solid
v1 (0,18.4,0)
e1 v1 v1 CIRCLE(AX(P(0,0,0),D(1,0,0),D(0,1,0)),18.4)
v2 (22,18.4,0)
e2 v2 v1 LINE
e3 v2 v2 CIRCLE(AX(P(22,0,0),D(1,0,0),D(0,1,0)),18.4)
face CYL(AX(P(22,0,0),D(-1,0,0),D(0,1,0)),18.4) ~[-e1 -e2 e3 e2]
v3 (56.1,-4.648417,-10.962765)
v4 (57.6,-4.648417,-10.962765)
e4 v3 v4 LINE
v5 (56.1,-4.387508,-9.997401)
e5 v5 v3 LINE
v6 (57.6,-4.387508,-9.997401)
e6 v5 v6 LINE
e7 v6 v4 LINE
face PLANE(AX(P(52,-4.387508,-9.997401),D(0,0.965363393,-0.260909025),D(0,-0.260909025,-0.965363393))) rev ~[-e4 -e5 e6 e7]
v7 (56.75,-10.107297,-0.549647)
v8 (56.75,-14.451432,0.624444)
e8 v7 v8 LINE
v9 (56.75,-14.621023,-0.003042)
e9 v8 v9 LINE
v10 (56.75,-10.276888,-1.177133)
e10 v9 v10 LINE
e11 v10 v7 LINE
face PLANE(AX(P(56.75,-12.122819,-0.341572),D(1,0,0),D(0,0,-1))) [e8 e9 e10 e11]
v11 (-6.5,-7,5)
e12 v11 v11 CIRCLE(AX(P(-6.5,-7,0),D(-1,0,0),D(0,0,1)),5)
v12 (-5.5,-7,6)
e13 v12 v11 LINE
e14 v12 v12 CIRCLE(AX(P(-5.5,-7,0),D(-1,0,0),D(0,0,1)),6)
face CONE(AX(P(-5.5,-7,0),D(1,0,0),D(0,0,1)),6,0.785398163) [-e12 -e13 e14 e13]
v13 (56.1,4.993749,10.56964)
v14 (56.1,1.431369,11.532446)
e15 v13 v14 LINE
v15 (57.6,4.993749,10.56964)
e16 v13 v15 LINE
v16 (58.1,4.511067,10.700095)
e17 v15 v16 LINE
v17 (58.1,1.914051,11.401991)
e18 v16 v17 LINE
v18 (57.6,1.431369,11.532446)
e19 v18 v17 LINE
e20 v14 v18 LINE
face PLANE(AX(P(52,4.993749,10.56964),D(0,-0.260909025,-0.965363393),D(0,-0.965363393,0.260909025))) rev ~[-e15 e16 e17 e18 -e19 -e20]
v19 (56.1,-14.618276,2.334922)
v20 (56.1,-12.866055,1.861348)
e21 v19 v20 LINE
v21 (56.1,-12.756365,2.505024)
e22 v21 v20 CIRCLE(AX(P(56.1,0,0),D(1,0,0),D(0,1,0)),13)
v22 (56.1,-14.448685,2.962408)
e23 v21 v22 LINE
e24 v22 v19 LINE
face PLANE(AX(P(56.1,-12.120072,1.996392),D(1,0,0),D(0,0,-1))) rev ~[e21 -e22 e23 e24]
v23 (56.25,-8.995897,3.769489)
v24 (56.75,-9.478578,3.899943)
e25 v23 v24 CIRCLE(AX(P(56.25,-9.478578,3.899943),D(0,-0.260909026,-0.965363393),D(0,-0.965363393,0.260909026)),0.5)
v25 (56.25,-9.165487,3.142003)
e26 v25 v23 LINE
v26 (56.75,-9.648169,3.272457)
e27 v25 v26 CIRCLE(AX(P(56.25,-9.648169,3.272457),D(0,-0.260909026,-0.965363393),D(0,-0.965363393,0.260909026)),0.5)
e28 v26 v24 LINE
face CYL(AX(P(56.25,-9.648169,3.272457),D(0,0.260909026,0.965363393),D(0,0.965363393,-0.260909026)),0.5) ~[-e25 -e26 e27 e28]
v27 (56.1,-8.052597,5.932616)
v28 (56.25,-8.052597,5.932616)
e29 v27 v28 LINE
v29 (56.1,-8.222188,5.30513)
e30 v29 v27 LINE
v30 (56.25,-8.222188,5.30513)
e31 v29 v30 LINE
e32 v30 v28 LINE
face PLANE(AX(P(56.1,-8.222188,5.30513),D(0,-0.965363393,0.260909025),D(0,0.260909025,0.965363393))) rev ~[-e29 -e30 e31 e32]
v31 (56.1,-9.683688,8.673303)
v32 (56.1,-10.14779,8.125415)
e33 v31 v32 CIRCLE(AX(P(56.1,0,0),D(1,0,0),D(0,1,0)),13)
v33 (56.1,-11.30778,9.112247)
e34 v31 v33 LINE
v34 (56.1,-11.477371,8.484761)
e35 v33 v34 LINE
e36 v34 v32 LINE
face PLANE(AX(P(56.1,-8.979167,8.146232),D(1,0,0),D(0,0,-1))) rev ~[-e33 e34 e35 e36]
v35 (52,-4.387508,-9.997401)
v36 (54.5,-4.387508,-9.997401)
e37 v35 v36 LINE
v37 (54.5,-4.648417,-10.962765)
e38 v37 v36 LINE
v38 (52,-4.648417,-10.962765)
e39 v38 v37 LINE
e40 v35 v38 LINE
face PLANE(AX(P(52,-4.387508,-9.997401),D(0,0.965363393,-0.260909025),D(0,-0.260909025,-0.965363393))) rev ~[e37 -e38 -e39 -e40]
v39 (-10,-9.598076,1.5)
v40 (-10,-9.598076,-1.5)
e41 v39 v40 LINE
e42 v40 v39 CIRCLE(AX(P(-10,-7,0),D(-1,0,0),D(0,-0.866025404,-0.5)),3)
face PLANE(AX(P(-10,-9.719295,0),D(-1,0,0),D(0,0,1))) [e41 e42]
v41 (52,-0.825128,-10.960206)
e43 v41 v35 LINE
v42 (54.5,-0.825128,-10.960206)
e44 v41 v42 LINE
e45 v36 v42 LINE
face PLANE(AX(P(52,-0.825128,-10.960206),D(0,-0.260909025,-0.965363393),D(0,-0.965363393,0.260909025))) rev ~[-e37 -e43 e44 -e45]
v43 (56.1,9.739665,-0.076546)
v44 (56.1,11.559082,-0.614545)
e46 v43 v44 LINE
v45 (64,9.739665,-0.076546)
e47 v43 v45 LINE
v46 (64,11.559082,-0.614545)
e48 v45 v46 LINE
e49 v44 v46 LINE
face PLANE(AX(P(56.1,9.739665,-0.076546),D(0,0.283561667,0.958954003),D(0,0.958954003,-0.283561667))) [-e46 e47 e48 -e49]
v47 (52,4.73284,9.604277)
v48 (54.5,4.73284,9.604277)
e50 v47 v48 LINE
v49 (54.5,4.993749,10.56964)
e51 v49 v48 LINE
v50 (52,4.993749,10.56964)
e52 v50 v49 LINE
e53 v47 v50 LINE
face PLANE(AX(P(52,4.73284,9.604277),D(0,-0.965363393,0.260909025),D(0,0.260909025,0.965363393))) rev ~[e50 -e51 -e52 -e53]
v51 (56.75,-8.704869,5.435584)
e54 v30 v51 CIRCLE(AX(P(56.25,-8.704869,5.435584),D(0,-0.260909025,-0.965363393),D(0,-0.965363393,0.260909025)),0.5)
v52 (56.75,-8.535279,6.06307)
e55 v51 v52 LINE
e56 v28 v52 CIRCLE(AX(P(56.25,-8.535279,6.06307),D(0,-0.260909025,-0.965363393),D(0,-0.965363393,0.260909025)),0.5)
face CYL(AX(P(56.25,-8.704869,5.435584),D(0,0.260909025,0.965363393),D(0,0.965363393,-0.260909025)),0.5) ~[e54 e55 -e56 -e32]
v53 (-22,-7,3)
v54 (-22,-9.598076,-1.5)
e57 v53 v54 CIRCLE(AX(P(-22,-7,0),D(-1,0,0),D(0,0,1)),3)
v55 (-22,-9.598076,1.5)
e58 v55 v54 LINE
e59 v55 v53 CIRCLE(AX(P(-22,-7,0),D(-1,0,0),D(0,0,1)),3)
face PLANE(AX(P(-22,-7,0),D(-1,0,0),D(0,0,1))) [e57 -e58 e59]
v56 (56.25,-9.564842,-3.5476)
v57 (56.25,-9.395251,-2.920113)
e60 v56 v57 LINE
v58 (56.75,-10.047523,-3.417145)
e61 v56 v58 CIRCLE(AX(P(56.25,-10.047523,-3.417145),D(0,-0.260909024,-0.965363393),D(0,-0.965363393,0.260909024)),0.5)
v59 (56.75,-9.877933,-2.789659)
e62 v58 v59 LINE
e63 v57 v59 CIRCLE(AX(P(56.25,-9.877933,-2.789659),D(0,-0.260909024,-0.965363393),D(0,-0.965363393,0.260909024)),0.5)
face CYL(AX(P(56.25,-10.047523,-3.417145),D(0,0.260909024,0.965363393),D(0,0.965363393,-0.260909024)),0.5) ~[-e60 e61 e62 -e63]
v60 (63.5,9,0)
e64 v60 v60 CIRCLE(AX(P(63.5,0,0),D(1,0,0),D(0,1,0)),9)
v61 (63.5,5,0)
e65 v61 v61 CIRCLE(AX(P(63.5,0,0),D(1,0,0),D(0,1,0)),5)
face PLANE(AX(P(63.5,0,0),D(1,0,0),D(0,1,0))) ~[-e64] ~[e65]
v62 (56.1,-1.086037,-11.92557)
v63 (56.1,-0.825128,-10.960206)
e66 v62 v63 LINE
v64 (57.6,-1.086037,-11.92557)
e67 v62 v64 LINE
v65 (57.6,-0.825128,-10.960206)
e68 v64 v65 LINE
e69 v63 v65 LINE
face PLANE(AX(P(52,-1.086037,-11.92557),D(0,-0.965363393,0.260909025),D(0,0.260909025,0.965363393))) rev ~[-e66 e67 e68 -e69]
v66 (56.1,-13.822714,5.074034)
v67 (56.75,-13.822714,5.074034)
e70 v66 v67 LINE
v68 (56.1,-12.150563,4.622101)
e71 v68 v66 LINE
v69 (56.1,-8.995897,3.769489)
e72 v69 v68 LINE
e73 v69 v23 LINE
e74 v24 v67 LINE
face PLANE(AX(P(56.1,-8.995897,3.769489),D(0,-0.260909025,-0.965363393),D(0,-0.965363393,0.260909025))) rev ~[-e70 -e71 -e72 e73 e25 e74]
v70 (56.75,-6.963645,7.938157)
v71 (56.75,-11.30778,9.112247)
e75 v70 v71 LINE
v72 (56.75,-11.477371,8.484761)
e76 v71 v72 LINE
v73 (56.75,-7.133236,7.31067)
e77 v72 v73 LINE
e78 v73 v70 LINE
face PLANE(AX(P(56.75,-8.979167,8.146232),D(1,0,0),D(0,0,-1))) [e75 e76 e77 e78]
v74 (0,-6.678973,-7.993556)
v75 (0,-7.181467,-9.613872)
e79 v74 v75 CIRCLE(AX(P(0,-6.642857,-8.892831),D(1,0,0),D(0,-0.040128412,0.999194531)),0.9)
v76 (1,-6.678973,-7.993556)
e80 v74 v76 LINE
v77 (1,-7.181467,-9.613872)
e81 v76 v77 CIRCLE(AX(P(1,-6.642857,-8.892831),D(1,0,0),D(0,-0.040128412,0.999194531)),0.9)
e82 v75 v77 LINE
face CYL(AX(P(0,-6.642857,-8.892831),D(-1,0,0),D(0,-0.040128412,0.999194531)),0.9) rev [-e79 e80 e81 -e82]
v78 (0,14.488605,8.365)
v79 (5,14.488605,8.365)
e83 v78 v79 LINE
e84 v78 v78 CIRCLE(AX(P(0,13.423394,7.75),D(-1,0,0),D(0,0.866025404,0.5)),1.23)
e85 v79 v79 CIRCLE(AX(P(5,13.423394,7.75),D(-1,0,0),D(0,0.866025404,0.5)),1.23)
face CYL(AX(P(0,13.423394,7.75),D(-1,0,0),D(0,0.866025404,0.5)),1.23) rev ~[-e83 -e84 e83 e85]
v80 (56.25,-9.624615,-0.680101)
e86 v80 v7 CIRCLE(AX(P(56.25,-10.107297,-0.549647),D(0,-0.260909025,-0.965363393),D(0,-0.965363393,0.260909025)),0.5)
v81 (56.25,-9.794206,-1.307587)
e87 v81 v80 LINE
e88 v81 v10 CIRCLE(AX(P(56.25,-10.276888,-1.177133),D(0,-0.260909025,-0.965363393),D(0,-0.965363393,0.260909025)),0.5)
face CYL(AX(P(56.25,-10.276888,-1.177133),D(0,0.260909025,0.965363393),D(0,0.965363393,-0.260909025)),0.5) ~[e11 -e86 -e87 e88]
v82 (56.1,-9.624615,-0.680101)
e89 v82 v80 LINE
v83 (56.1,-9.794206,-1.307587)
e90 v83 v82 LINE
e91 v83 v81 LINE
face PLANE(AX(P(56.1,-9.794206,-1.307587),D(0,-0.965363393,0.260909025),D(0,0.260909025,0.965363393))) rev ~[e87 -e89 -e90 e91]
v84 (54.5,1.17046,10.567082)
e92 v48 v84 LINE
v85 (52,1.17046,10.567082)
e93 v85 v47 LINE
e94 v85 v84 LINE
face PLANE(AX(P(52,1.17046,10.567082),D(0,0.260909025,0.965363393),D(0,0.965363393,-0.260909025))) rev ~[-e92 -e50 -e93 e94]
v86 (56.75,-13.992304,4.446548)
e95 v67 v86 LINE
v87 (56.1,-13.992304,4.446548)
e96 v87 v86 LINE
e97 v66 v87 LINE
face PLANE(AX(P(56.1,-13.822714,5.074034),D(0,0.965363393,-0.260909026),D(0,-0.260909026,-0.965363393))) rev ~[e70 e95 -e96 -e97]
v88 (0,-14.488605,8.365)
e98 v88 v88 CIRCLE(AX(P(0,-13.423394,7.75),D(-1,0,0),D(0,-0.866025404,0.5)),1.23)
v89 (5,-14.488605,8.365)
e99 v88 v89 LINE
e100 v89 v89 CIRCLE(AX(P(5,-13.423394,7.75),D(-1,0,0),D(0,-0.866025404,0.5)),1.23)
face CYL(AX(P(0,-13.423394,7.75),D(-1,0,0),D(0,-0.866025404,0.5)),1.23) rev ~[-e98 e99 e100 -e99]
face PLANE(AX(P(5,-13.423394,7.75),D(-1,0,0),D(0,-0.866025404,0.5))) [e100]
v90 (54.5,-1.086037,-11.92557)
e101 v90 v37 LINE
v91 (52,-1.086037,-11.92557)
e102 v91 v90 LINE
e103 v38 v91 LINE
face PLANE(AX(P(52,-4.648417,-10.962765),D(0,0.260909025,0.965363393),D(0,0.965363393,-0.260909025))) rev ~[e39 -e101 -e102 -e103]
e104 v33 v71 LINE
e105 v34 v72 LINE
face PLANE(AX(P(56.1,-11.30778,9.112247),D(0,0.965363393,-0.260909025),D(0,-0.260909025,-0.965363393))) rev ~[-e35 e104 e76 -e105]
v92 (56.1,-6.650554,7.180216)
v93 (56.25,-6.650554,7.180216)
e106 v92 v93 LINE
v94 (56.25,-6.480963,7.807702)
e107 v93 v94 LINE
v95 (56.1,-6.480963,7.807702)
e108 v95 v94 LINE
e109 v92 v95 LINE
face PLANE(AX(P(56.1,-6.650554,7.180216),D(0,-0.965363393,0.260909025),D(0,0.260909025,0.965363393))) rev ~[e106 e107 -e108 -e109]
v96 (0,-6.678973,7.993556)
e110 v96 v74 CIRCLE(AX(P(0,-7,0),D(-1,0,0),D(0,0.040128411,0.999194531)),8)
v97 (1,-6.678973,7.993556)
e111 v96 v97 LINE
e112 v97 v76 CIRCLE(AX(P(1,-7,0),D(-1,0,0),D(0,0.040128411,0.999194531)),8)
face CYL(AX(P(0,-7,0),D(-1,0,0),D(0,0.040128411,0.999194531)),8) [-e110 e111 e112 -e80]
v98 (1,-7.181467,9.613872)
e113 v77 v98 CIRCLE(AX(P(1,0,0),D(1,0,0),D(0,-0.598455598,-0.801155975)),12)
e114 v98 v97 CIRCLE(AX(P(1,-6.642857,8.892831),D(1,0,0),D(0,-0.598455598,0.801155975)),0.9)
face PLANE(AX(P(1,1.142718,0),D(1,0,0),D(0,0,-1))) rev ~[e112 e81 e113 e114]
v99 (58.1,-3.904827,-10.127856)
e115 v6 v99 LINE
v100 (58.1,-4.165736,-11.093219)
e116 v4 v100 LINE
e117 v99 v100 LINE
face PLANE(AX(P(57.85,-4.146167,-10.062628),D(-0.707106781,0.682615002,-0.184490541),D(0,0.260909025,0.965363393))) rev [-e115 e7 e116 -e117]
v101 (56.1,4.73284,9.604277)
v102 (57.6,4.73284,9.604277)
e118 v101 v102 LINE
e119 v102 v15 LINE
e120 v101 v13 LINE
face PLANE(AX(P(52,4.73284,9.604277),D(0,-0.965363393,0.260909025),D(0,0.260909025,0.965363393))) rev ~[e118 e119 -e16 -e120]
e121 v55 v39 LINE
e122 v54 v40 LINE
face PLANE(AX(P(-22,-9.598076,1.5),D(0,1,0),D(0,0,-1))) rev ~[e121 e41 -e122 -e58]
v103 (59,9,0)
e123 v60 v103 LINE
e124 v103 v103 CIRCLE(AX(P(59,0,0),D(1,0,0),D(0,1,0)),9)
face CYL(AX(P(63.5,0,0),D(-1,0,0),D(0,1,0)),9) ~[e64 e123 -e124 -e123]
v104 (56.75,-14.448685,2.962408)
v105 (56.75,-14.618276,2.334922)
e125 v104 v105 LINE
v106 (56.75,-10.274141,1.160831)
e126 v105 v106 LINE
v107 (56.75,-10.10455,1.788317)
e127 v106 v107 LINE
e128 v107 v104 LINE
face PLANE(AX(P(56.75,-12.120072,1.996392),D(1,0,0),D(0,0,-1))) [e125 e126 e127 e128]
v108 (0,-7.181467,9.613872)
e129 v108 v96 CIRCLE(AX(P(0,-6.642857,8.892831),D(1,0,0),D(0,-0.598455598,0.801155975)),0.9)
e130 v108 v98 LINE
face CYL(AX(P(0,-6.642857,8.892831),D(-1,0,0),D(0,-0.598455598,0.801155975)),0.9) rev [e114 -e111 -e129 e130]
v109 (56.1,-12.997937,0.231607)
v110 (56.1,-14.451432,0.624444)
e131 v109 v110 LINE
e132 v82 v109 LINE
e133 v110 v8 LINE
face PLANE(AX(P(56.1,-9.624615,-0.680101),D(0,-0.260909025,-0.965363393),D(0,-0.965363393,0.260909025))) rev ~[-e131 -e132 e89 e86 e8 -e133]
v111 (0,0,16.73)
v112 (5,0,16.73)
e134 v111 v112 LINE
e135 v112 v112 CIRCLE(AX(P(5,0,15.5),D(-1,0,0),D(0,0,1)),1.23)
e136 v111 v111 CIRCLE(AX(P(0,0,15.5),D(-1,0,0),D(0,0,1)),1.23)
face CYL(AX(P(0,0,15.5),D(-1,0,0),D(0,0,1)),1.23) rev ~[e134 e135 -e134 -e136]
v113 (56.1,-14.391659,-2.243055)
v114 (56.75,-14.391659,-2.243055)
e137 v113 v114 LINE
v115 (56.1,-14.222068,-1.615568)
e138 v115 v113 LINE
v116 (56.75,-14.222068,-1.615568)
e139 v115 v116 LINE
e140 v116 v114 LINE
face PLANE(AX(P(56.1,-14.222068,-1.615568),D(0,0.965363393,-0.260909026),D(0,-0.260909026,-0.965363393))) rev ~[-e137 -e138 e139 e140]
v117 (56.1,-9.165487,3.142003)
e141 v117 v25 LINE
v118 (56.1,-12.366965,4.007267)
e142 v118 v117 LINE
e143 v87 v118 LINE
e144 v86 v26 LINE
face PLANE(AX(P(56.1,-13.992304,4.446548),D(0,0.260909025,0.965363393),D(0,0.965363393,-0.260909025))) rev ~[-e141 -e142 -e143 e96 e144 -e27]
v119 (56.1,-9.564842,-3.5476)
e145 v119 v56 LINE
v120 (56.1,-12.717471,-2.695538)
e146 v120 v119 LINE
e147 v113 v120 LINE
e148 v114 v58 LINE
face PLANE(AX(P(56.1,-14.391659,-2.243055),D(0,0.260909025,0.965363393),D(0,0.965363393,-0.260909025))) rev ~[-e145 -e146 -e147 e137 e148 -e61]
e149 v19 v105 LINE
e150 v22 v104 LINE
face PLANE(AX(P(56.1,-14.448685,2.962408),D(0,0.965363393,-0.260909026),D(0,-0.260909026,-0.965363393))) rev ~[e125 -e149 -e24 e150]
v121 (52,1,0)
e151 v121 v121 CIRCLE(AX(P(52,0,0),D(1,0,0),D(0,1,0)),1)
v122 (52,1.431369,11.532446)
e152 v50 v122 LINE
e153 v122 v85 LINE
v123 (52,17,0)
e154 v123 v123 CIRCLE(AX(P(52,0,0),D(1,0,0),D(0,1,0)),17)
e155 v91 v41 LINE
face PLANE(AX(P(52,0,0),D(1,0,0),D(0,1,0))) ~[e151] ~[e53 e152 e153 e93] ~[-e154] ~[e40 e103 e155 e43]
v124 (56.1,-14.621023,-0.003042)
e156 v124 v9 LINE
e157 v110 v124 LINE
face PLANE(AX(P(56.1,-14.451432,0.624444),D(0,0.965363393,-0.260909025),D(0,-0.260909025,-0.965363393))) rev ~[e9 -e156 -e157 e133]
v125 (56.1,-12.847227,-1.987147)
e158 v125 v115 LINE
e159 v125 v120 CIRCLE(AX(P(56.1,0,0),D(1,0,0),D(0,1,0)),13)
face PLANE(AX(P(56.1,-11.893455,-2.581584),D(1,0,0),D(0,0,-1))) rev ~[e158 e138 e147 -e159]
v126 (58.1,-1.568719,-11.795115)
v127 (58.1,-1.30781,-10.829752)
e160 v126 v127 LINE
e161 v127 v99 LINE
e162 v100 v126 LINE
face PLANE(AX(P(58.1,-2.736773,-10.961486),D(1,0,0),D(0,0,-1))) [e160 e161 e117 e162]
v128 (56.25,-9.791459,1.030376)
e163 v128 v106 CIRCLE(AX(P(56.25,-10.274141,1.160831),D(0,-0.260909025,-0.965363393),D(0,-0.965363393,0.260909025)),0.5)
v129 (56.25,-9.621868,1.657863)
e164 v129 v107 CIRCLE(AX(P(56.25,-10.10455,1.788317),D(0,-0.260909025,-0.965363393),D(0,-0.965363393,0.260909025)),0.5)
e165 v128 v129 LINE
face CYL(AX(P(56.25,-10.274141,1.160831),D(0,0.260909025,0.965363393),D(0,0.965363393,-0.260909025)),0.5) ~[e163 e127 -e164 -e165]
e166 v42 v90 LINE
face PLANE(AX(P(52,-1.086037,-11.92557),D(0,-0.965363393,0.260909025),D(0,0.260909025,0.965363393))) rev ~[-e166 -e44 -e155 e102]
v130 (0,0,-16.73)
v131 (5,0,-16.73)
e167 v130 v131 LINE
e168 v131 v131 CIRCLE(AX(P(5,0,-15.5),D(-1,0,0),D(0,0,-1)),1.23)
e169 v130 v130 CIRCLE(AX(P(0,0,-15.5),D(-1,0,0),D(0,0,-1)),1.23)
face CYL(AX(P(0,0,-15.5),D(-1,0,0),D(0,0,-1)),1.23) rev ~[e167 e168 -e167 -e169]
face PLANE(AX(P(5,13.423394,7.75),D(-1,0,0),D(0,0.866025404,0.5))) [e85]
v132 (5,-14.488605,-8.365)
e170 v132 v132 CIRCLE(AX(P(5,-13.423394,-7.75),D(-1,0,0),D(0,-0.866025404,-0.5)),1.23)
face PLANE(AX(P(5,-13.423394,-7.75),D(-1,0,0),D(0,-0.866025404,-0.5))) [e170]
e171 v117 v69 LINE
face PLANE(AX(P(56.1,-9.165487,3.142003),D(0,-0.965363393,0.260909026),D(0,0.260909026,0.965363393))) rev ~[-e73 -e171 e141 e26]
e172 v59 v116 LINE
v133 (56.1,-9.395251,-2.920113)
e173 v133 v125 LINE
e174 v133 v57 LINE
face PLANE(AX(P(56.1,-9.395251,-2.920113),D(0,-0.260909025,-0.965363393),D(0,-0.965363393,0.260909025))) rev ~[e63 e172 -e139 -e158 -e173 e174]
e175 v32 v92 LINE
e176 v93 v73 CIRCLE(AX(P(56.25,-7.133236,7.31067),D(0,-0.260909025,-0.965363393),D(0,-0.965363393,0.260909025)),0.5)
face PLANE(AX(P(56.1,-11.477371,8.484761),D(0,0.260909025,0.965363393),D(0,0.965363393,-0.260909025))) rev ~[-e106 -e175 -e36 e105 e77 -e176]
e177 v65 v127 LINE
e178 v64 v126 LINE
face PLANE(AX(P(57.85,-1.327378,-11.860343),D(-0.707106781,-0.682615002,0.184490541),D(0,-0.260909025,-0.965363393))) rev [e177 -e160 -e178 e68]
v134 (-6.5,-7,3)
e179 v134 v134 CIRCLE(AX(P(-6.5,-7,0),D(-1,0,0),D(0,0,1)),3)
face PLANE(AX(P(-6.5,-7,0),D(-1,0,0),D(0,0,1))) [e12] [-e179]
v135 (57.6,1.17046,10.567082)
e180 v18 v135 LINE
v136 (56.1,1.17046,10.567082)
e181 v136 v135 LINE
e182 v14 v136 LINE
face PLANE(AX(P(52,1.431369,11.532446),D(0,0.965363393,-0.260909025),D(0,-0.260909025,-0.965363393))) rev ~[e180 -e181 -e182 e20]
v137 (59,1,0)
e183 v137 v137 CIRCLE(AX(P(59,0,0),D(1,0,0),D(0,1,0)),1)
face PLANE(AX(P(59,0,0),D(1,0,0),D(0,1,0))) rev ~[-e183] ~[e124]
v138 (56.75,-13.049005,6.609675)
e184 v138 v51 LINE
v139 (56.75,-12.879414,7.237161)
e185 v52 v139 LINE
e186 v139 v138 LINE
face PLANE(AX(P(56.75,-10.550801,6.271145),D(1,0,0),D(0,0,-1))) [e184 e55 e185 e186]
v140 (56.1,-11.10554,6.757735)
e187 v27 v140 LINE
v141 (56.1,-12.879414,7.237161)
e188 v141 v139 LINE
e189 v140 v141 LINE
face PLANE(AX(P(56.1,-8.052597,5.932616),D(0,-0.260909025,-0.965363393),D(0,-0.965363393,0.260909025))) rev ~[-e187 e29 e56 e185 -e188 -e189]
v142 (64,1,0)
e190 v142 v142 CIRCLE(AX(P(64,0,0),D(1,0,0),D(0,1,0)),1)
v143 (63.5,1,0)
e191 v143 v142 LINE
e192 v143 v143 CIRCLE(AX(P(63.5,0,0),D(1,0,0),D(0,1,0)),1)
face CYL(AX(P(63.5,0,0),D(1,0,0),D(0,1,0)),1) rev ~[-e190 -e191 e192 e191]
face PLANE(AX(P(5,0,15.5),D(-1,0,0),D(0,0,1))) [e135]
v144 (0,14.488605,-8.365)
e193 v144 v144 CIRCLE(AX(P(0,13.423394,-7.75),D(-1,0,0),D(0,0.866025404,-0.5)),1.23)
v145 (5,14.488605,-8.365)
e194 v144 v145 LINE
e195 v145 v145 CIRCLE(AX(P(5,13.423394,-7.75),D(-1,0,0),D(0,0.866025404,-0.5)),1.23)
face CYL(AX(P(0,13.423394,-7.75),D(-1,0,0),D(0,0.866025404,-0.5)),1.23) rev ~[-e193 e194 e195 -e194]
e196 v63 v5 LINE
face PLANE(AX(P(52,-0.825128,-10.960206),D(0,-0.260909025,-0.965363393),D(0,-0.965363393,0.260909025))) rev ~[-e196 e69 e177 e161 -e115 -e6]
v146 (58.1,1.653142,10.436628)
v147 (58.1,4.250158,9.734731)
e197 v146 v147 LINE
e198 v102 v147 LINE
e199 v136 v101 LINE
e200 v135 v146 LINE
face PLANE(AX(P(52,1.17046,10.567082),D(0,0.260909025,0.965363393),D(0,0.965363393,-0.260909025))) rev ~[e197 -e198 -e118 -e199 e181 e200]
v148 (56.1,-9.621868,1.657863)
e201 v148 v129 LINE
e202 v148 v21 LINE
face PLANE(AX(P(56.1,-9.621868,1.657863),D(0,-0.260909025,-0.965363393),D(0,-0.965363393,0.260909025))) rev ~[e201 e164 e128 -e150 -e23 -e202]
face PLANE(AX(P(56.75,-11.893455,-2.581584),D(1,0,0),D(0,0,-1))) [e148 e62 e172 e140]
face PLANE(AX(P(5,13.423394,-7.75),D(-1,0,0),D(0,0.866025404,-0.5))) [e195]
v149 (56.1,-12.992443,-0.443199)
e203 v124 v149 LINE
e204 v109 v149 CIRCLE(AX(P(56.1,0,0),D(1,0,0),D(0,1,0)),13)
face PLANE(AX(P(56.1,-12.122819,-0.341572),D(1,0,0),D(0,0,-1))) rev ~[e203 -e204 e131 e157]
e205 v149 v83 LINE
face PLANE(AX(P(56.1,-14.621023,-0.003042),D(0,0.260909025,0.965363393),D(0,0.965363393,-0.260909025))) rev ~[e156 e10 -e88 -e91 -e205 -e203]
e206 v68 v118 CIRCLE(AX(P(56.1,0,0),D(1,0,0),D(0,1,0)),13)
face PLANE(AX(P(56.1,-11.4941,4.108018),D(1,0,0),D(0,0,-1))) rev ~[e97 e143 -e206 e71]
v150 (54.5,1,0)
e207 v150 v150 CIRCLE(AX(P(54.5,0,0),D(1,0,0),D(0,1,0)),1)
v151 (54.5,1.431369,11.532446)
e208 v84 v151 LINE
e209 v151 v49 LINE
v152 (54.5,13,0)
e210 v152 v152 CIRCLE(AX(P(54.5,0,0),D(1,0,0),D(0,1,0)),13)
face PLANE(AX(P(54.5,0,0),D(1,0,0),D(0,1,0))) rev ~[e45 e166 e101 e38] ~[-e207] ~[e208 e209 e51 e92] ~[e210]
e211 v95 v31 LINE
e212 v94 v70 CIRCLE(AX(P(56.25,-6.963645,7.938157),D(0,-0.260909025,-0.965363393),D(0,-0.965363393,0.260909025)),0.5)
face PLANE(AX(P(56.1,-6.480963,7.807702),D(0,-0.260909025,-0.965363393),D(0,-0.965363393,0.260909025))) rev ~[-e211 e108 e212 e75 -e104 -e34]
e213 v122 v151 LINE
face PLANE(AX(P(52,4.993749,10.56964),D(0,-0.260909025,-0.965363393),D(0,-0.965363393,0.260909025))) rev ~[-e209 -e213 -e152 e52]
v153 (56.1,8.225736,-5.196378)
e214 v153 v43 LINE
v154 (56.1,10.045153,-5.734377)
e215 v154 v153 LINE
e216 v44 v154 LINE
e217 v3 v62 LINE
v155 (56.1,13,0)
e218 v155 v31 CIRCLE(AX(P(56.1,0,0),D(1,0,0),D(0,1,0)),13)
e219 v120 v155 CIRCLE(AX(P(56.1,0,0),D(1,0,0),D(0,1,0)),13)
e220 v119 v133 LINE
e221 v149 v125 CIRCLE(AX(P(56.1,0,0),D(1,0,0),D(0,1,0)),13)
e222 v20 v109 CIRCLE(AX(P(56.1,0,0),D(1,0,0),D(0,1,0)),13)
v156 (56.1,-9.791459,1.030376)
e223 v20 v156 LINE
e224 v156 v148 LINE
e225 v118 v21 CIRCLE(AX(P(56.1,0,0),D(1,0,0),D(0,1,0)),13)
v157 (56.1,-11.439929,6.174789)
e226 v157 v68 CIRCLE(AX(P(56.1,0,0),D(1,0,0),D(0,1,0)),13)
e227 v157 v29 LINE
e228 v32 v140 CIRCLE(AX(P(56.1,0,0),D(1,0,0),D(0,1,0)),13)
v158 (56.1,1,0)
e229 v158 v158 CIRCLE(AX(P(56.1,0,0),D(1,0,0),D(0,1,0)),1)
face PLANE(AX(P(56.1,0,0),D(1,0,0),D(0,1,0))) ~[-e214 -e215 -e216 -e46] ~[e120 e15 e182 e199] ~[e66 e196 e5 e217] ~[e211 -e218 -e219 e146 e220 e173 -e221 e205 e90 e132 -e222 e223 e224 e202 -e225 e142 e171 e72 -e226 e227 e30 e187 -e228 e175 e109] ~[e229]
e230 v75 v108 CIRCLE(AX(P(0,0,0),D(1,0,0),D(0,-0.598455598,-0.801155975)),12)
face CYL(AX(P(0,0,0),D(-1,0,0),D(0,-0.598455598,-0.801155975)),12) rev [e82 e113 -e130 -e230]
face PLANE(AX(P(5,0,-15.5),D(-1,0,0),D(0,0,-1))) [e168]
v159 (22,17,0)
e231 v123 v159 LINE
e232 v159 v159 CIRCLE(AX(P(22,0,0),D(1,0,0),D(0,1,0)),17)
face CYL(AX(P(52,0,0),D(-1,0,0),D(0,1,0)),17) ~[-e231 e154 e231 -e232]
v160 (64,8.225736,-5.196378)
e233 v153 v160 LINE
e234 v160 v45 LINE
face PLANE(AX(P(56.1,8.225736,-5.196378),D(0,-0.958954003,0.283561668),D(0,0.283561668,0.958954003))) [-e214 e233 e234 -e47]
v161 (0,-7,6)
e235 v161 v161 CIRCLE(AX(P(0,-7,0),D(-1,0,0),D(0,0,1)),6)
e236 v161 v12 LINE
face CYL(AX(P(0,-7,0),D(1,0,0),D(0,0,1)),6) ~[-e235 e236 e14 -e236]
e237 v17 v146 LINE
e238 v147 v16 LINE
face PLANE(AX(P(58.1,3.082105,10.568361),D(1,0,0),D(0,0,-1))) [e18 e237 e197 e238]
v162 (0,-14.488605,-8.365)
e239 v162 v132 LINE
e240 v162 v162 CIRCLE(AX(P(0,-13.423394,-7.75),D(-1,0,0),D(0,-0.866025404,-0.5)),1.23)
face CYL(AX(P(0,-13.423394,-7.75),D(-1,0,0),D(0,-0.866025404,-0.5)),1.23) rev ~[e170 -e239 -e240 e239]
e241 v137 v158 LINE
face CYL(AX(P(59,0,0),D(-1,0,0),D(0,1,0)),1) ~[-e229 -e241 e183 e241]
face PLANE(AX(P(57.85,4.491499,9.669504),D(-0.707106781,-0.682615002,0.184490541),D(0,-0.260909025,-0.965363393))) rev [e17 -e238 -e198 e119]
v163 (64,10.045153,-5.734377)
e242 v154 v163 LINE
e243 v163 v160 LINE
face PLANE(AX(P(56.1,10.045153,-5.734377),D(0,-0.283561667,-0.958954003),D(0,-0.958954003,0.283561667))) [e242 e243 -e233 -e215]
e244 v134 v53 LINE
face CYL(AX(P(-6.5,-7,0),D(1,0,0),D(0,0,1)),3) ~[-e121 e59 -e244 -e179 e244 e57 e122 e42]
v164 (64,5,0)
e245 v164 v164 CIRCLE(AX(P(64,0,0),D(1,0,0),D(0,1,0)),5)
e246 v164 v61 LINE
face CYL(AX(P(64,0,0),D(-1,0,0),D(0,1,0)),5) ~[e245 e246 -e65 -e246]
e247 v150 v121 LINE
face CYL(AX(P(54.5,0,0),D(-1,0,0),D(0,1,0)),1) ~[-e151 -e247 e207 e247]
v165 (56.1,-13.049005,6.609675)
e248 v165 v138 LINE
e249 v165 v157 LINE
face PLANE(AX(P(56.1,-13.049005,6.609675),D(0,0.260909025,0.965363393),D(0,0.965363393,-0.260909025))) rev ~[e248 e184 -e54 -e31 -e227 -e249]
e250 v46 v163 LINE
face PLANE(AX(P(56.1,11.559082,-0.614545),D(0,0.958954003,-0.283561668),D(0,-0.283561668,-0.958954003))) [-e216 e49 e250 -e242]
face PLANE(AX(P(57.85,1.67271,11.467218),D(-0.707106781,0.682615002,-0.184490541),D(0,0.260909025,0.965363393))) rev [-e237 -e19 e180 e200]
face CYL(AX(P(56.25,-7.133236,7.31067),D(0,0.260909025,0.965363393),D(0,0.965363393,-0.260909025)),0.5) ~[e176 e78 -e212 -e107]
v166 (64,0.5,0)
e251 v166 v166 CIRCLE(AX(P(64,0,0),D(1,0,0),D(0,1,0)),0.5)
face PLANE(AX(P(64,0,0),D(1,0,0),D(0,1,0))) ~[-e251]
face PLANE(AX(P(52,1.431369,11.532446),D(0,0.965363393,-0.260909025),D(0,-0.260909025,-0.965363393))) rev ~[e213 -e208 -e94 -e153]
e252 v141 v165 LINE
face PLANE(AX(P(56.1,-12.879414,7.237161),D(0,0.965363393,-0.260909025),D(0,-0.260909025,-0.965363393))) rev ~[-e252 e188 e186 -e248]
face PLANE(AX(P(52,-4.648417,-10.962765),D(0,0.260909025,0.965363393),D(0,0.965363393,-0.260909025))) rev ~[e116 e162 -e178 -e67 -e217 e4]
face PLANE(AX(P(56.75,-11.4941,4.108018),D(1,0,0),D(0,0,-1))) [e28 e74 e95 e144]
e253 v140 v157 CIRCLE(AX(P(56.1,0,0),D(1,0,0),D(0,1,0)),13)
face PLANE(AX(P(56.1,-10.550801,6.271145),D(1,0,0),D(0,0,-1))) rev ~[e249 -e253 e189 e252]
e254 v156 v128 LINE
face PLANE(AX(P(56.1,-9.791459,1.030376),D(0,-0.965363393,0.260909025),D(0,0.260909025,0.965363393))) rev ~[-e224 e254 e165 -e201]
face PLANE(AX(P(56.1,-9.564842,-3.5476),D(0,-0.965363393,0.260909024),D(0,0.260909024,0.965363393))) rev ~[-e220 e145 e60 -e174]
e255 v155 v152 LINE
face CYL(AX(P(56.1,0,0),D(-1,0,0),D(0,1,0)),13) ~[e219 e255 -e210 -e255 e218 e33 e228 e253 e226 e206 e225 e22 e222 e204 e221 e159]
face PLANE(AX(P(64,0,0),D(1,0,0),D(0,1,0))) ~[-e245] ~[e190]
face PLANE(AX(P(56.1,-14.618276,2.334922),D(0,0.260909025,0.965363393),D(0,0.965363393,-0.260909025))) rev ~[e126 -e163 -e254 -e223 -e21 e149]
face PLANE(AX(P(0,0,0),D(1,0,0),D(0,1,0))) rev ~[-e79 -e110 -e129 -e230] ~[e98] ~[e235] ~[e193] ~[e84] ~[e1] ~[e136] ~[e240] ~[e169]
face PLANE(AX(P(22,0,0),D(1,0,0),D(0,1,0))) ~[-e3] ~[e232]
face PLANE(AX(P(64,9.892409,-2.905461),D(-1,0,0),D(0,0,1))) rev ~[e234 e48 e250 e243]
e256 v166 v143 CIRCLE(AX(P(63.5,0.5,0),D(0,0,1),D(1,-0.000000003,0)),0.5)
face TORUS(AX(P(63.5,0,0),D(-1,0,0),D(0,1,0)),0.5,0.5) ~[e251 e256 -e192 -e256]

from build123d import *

# Parameters (mm, degrees)
SKETCH2_R           = 6
BOSS_EXTRUDE1_DEPTH = 6.5
SKETCH3_R           = 3
BOSS_EXTRUDE2_DEPTH = 15.5
CUT_EXTRUDE1_DEPTH  = 12
CHAMFER1_SIZE       = 1
SKETCH5_R           = 1.23
CUT_EXTRUDE2_DEPTH  = 5
CIRPATTERN1_COUNT   = 6
BOSS_EXTRUDE3_DEPTH = 7.9
BOSS_EXTRUDE4_DEPTH = 6.1
CHAMFER2_SIZE       = 0.5
BOSS_EXTRUDE5_DEPTH = 0.65
FILLET1_R           = 0.5
CUT_EXTRUDE3_DEPTH  = 1


with BuildPart() as part:
    # Sketch1 → Revolve1 (revolve)
    with BuildSketch(Plane.XY):
        with BuildLine():
            Line((0, 0), (64, 0))
            Line((64, 0), (64, 0.5))
            ThreePointArc((64, 0.5), (63.853553391, 0.853553391), (63.5, 1))
            Line((63.5, 1), (64, 1))
            Line((64, 1), (64, 5))
            Line((64, 5), (63.5, 5))
            Line((63.5, 5), (63.5, 9))
            Line((63.5, 9), (59, 9))
            Line((59, 9), (59, 1))
            Line((59, 1), (56.1, 1))
            Line((56.1, 1), (56.1, 13))
            Line((56.1, 13), (54.5, 13))
            Line((54.5, 13), (54.5, 1))
            Line((54.5, 1), (52, 1))
            Line((52, 1), (52, 17))
            Line((52, 17), (22, 17))
            Line((22, 17), (22, 18.4))
            Line((22, 18.4), (0, 18.4))
            Line((0, 18.4), (0, 0))
        make_face()
    revolve(axis=Axis((0, 0, 0), (1, 0, 0)))

    # Sketch2 → Boss-Extrude1 (add)
    with BuildSketch(Plane.ZY):
        with Locations((0, -7)):
            Circle(SKETCH2_R)
    extrude(amount=BOSS_EXTRUDE1_DEPTH)

    # Sketch3 → Boss-Extrude2 (add)
    with BuildSketch(Plane.ZY.offset(6.5)):
        with Locations((0, -7)):
            Circle(SKETCH3_R)
    extrude(amount=BOSS_EXTRUDE2_DEPTH)

    # Sketch4 → Cut-Extrude1 (cut)
    with BuildSketch(Plane.ZY.offset(22)):
        with BuildLine():
            Line((1.5, -9.598076211), (-1.5, -9.598076211))
            ThreePointArc((-1.5, -9.598076211), (0, -10), (1.5, -9.598076211))
        make_face()
    extrude(amount=-CUT_EXTRUDE1_DEPTH, mode=Mode.SUBTRACT)

    # Chamfer1
    chamfer1_edges = [part.edges().sort_by_distance(p)[0] for p in [
        (-6.5, -7, -6),
    ]]
    chamfer(chamfer1_edges, length=CHAMFER1_SIZE)

    # Sketch5 → Cut-Extrude2 (cut)
    with BuildSketch(Plane.ZY):
        with Locations((15.5, 0)):
            Circle(SKETCH5_R)
    cut_extrude2 = extrude(amount=-CUT_EXTRUDE2_DEPTH, mode=Mode.SUBTRACT)

    # CirPattern1: Cut-Extrude2 ×6 about axis
    cirpattern1_axis = Axis((0, 0, 0), (1, 0, 0))
    for i in range(1, CIRPATTERN1_COUNT):
        add(cut_extrude2.rotate(cirpattern1_axis, i * 360 / CIRPATTERN1_COUNT), mode=Mode.SUBTRACT)

    # Sketch6 → Boss-Extrude3 (add)
    with BuildSketch(Plane(origin=(56.1, 0, 0), x_dir=(0, 0, -1), z_dir=(1, 0, 0))):
        Polygon((0.614545099, 11.559081954), (5.734377326, 10.04515307), (5.196377764, 8.225736367), (0.076545537, 9.739665251), align=None)
    extrude(amount=BOSS_EXTRUDE3_DEPTH)

    # Sketch7 → Boss-Extrude4 (add)
    with BuildSketch(Plane(origin=(52, 0, 0), x_dir=(0, 0, -1), z_dir=(1, 0, 0))):
        Polygon((-10.569640254, 4.993749072), (-11.532445624, 1.431369202), (-10.567082231, 1.170460177), (-9.604276861, 4.732840047), align=None)
        Polygon((10.960206493, -0.825128427), (9.997401123, -4.387508297), (10.962764516, -4.648417322), (11.925569886, -1.086037452), align=None)
    extrude(amount=BOSS_EXTRUDE4_DEPTH)

    # Chamfer2
    chamfer2_edges = [part.edges().sort_by_distance(p)[0] for p in [
        (58.1, 1.300914689, 11.049763927),
        (58.1, 4.86329456, 10.086958557),
        (58.1, -4.51796281, -10.480082819),
        (58.1, -0.955582939, -11.44288819),
    ]]
    chamfer(chamfer2_edges, length=CHAMFER2_SIZE)

    # Sketch9 → Boss-Extrude5 (add)
    with BuildSketch(Plane(origin=(56.1, 0, 0), x_dir=(0, 0, -1), z_dir=(1, 0, 0))):
        Polygon((-7.807702145, -6.480963086), (-9.112247271, -11.307780051), (-8.484761066, -11.477370917), (-7.18021594, -6.650553952), align=None)
        Polygon((-5.932615753, -8.052596911), (-7.237160879, -12.879413876), (-6.609674674, -13.049004742), (-5.305129548, -8.222187777), align=None)
        Polygon((-3.769488931, -8.99589657), (-5.074034056, -13.822713535), (-4.446547851, -13.992304402), (-3.142002725, -9.165487437), align=None)
        Polygon((-1.65786261, -9.621868256), (-2.962407736, -14.448685221), (-2.33492153, -14.618276088), (-1.030376405, -9.791459122), align=None)
        Polygon((0.680101248, -9.624615249), (-0.624443878, -14.451432214), (0.003042327, -14.62102308), (1.307587453, -9.794206115), align=None)
        Polygon((2.920113487, -9.395250912), (1.615568361, -14.222067877), (2.243054567, -14.391658744), (3.547599693, -9.564841778), align=None)
    extrude(amount=BOSS_EXTRUDE5_DEPTH)

    # Fillet1
    fillet1_edges = [part.edges().sort_by_distance(p)[0] for p in [
        (56.75, -6.565758519, 7.493959043),
        (56.75, -8.137392344, 5.618872651),
        (56.75, -9.080692003, 3.455745828),
        (56.75, -9.706663689, 1.344119507),
        (56.75, -9.709410682, -0.99384435),
        (56.75, -9.480046345, -3.23385659),
    ]]
    fillet(fillet1_edges, radius=FILLET1_R)

    # Sketch14 → Cut-Extrude3 (cut)
    with BuildSketch(Plane.ZY):
        with BuildLine():
            ThreePointArc((-9.613871703, -7.181467181), (0, 12), (9.613871703, -7.181467181))
            ThreePointArc((9.613871703, -7.181467181), (8.626247239, -7.502469221), (7.993556247, -6.678972713))
            ThreePointArc((7.993556247, -6.678972713), (0, 1), (-7.993556247, -6.678972713))
            ThreePointArc((-7.993556247, -6.678972713), (-8.626247239, -7.502469221), (-9.613871703, -7.181467181))
        make_face()
    extrude(amount=-CUT_EXTRUDE3_DEPTH, mode=Mode.SUBTRACT)


solid = part.part
